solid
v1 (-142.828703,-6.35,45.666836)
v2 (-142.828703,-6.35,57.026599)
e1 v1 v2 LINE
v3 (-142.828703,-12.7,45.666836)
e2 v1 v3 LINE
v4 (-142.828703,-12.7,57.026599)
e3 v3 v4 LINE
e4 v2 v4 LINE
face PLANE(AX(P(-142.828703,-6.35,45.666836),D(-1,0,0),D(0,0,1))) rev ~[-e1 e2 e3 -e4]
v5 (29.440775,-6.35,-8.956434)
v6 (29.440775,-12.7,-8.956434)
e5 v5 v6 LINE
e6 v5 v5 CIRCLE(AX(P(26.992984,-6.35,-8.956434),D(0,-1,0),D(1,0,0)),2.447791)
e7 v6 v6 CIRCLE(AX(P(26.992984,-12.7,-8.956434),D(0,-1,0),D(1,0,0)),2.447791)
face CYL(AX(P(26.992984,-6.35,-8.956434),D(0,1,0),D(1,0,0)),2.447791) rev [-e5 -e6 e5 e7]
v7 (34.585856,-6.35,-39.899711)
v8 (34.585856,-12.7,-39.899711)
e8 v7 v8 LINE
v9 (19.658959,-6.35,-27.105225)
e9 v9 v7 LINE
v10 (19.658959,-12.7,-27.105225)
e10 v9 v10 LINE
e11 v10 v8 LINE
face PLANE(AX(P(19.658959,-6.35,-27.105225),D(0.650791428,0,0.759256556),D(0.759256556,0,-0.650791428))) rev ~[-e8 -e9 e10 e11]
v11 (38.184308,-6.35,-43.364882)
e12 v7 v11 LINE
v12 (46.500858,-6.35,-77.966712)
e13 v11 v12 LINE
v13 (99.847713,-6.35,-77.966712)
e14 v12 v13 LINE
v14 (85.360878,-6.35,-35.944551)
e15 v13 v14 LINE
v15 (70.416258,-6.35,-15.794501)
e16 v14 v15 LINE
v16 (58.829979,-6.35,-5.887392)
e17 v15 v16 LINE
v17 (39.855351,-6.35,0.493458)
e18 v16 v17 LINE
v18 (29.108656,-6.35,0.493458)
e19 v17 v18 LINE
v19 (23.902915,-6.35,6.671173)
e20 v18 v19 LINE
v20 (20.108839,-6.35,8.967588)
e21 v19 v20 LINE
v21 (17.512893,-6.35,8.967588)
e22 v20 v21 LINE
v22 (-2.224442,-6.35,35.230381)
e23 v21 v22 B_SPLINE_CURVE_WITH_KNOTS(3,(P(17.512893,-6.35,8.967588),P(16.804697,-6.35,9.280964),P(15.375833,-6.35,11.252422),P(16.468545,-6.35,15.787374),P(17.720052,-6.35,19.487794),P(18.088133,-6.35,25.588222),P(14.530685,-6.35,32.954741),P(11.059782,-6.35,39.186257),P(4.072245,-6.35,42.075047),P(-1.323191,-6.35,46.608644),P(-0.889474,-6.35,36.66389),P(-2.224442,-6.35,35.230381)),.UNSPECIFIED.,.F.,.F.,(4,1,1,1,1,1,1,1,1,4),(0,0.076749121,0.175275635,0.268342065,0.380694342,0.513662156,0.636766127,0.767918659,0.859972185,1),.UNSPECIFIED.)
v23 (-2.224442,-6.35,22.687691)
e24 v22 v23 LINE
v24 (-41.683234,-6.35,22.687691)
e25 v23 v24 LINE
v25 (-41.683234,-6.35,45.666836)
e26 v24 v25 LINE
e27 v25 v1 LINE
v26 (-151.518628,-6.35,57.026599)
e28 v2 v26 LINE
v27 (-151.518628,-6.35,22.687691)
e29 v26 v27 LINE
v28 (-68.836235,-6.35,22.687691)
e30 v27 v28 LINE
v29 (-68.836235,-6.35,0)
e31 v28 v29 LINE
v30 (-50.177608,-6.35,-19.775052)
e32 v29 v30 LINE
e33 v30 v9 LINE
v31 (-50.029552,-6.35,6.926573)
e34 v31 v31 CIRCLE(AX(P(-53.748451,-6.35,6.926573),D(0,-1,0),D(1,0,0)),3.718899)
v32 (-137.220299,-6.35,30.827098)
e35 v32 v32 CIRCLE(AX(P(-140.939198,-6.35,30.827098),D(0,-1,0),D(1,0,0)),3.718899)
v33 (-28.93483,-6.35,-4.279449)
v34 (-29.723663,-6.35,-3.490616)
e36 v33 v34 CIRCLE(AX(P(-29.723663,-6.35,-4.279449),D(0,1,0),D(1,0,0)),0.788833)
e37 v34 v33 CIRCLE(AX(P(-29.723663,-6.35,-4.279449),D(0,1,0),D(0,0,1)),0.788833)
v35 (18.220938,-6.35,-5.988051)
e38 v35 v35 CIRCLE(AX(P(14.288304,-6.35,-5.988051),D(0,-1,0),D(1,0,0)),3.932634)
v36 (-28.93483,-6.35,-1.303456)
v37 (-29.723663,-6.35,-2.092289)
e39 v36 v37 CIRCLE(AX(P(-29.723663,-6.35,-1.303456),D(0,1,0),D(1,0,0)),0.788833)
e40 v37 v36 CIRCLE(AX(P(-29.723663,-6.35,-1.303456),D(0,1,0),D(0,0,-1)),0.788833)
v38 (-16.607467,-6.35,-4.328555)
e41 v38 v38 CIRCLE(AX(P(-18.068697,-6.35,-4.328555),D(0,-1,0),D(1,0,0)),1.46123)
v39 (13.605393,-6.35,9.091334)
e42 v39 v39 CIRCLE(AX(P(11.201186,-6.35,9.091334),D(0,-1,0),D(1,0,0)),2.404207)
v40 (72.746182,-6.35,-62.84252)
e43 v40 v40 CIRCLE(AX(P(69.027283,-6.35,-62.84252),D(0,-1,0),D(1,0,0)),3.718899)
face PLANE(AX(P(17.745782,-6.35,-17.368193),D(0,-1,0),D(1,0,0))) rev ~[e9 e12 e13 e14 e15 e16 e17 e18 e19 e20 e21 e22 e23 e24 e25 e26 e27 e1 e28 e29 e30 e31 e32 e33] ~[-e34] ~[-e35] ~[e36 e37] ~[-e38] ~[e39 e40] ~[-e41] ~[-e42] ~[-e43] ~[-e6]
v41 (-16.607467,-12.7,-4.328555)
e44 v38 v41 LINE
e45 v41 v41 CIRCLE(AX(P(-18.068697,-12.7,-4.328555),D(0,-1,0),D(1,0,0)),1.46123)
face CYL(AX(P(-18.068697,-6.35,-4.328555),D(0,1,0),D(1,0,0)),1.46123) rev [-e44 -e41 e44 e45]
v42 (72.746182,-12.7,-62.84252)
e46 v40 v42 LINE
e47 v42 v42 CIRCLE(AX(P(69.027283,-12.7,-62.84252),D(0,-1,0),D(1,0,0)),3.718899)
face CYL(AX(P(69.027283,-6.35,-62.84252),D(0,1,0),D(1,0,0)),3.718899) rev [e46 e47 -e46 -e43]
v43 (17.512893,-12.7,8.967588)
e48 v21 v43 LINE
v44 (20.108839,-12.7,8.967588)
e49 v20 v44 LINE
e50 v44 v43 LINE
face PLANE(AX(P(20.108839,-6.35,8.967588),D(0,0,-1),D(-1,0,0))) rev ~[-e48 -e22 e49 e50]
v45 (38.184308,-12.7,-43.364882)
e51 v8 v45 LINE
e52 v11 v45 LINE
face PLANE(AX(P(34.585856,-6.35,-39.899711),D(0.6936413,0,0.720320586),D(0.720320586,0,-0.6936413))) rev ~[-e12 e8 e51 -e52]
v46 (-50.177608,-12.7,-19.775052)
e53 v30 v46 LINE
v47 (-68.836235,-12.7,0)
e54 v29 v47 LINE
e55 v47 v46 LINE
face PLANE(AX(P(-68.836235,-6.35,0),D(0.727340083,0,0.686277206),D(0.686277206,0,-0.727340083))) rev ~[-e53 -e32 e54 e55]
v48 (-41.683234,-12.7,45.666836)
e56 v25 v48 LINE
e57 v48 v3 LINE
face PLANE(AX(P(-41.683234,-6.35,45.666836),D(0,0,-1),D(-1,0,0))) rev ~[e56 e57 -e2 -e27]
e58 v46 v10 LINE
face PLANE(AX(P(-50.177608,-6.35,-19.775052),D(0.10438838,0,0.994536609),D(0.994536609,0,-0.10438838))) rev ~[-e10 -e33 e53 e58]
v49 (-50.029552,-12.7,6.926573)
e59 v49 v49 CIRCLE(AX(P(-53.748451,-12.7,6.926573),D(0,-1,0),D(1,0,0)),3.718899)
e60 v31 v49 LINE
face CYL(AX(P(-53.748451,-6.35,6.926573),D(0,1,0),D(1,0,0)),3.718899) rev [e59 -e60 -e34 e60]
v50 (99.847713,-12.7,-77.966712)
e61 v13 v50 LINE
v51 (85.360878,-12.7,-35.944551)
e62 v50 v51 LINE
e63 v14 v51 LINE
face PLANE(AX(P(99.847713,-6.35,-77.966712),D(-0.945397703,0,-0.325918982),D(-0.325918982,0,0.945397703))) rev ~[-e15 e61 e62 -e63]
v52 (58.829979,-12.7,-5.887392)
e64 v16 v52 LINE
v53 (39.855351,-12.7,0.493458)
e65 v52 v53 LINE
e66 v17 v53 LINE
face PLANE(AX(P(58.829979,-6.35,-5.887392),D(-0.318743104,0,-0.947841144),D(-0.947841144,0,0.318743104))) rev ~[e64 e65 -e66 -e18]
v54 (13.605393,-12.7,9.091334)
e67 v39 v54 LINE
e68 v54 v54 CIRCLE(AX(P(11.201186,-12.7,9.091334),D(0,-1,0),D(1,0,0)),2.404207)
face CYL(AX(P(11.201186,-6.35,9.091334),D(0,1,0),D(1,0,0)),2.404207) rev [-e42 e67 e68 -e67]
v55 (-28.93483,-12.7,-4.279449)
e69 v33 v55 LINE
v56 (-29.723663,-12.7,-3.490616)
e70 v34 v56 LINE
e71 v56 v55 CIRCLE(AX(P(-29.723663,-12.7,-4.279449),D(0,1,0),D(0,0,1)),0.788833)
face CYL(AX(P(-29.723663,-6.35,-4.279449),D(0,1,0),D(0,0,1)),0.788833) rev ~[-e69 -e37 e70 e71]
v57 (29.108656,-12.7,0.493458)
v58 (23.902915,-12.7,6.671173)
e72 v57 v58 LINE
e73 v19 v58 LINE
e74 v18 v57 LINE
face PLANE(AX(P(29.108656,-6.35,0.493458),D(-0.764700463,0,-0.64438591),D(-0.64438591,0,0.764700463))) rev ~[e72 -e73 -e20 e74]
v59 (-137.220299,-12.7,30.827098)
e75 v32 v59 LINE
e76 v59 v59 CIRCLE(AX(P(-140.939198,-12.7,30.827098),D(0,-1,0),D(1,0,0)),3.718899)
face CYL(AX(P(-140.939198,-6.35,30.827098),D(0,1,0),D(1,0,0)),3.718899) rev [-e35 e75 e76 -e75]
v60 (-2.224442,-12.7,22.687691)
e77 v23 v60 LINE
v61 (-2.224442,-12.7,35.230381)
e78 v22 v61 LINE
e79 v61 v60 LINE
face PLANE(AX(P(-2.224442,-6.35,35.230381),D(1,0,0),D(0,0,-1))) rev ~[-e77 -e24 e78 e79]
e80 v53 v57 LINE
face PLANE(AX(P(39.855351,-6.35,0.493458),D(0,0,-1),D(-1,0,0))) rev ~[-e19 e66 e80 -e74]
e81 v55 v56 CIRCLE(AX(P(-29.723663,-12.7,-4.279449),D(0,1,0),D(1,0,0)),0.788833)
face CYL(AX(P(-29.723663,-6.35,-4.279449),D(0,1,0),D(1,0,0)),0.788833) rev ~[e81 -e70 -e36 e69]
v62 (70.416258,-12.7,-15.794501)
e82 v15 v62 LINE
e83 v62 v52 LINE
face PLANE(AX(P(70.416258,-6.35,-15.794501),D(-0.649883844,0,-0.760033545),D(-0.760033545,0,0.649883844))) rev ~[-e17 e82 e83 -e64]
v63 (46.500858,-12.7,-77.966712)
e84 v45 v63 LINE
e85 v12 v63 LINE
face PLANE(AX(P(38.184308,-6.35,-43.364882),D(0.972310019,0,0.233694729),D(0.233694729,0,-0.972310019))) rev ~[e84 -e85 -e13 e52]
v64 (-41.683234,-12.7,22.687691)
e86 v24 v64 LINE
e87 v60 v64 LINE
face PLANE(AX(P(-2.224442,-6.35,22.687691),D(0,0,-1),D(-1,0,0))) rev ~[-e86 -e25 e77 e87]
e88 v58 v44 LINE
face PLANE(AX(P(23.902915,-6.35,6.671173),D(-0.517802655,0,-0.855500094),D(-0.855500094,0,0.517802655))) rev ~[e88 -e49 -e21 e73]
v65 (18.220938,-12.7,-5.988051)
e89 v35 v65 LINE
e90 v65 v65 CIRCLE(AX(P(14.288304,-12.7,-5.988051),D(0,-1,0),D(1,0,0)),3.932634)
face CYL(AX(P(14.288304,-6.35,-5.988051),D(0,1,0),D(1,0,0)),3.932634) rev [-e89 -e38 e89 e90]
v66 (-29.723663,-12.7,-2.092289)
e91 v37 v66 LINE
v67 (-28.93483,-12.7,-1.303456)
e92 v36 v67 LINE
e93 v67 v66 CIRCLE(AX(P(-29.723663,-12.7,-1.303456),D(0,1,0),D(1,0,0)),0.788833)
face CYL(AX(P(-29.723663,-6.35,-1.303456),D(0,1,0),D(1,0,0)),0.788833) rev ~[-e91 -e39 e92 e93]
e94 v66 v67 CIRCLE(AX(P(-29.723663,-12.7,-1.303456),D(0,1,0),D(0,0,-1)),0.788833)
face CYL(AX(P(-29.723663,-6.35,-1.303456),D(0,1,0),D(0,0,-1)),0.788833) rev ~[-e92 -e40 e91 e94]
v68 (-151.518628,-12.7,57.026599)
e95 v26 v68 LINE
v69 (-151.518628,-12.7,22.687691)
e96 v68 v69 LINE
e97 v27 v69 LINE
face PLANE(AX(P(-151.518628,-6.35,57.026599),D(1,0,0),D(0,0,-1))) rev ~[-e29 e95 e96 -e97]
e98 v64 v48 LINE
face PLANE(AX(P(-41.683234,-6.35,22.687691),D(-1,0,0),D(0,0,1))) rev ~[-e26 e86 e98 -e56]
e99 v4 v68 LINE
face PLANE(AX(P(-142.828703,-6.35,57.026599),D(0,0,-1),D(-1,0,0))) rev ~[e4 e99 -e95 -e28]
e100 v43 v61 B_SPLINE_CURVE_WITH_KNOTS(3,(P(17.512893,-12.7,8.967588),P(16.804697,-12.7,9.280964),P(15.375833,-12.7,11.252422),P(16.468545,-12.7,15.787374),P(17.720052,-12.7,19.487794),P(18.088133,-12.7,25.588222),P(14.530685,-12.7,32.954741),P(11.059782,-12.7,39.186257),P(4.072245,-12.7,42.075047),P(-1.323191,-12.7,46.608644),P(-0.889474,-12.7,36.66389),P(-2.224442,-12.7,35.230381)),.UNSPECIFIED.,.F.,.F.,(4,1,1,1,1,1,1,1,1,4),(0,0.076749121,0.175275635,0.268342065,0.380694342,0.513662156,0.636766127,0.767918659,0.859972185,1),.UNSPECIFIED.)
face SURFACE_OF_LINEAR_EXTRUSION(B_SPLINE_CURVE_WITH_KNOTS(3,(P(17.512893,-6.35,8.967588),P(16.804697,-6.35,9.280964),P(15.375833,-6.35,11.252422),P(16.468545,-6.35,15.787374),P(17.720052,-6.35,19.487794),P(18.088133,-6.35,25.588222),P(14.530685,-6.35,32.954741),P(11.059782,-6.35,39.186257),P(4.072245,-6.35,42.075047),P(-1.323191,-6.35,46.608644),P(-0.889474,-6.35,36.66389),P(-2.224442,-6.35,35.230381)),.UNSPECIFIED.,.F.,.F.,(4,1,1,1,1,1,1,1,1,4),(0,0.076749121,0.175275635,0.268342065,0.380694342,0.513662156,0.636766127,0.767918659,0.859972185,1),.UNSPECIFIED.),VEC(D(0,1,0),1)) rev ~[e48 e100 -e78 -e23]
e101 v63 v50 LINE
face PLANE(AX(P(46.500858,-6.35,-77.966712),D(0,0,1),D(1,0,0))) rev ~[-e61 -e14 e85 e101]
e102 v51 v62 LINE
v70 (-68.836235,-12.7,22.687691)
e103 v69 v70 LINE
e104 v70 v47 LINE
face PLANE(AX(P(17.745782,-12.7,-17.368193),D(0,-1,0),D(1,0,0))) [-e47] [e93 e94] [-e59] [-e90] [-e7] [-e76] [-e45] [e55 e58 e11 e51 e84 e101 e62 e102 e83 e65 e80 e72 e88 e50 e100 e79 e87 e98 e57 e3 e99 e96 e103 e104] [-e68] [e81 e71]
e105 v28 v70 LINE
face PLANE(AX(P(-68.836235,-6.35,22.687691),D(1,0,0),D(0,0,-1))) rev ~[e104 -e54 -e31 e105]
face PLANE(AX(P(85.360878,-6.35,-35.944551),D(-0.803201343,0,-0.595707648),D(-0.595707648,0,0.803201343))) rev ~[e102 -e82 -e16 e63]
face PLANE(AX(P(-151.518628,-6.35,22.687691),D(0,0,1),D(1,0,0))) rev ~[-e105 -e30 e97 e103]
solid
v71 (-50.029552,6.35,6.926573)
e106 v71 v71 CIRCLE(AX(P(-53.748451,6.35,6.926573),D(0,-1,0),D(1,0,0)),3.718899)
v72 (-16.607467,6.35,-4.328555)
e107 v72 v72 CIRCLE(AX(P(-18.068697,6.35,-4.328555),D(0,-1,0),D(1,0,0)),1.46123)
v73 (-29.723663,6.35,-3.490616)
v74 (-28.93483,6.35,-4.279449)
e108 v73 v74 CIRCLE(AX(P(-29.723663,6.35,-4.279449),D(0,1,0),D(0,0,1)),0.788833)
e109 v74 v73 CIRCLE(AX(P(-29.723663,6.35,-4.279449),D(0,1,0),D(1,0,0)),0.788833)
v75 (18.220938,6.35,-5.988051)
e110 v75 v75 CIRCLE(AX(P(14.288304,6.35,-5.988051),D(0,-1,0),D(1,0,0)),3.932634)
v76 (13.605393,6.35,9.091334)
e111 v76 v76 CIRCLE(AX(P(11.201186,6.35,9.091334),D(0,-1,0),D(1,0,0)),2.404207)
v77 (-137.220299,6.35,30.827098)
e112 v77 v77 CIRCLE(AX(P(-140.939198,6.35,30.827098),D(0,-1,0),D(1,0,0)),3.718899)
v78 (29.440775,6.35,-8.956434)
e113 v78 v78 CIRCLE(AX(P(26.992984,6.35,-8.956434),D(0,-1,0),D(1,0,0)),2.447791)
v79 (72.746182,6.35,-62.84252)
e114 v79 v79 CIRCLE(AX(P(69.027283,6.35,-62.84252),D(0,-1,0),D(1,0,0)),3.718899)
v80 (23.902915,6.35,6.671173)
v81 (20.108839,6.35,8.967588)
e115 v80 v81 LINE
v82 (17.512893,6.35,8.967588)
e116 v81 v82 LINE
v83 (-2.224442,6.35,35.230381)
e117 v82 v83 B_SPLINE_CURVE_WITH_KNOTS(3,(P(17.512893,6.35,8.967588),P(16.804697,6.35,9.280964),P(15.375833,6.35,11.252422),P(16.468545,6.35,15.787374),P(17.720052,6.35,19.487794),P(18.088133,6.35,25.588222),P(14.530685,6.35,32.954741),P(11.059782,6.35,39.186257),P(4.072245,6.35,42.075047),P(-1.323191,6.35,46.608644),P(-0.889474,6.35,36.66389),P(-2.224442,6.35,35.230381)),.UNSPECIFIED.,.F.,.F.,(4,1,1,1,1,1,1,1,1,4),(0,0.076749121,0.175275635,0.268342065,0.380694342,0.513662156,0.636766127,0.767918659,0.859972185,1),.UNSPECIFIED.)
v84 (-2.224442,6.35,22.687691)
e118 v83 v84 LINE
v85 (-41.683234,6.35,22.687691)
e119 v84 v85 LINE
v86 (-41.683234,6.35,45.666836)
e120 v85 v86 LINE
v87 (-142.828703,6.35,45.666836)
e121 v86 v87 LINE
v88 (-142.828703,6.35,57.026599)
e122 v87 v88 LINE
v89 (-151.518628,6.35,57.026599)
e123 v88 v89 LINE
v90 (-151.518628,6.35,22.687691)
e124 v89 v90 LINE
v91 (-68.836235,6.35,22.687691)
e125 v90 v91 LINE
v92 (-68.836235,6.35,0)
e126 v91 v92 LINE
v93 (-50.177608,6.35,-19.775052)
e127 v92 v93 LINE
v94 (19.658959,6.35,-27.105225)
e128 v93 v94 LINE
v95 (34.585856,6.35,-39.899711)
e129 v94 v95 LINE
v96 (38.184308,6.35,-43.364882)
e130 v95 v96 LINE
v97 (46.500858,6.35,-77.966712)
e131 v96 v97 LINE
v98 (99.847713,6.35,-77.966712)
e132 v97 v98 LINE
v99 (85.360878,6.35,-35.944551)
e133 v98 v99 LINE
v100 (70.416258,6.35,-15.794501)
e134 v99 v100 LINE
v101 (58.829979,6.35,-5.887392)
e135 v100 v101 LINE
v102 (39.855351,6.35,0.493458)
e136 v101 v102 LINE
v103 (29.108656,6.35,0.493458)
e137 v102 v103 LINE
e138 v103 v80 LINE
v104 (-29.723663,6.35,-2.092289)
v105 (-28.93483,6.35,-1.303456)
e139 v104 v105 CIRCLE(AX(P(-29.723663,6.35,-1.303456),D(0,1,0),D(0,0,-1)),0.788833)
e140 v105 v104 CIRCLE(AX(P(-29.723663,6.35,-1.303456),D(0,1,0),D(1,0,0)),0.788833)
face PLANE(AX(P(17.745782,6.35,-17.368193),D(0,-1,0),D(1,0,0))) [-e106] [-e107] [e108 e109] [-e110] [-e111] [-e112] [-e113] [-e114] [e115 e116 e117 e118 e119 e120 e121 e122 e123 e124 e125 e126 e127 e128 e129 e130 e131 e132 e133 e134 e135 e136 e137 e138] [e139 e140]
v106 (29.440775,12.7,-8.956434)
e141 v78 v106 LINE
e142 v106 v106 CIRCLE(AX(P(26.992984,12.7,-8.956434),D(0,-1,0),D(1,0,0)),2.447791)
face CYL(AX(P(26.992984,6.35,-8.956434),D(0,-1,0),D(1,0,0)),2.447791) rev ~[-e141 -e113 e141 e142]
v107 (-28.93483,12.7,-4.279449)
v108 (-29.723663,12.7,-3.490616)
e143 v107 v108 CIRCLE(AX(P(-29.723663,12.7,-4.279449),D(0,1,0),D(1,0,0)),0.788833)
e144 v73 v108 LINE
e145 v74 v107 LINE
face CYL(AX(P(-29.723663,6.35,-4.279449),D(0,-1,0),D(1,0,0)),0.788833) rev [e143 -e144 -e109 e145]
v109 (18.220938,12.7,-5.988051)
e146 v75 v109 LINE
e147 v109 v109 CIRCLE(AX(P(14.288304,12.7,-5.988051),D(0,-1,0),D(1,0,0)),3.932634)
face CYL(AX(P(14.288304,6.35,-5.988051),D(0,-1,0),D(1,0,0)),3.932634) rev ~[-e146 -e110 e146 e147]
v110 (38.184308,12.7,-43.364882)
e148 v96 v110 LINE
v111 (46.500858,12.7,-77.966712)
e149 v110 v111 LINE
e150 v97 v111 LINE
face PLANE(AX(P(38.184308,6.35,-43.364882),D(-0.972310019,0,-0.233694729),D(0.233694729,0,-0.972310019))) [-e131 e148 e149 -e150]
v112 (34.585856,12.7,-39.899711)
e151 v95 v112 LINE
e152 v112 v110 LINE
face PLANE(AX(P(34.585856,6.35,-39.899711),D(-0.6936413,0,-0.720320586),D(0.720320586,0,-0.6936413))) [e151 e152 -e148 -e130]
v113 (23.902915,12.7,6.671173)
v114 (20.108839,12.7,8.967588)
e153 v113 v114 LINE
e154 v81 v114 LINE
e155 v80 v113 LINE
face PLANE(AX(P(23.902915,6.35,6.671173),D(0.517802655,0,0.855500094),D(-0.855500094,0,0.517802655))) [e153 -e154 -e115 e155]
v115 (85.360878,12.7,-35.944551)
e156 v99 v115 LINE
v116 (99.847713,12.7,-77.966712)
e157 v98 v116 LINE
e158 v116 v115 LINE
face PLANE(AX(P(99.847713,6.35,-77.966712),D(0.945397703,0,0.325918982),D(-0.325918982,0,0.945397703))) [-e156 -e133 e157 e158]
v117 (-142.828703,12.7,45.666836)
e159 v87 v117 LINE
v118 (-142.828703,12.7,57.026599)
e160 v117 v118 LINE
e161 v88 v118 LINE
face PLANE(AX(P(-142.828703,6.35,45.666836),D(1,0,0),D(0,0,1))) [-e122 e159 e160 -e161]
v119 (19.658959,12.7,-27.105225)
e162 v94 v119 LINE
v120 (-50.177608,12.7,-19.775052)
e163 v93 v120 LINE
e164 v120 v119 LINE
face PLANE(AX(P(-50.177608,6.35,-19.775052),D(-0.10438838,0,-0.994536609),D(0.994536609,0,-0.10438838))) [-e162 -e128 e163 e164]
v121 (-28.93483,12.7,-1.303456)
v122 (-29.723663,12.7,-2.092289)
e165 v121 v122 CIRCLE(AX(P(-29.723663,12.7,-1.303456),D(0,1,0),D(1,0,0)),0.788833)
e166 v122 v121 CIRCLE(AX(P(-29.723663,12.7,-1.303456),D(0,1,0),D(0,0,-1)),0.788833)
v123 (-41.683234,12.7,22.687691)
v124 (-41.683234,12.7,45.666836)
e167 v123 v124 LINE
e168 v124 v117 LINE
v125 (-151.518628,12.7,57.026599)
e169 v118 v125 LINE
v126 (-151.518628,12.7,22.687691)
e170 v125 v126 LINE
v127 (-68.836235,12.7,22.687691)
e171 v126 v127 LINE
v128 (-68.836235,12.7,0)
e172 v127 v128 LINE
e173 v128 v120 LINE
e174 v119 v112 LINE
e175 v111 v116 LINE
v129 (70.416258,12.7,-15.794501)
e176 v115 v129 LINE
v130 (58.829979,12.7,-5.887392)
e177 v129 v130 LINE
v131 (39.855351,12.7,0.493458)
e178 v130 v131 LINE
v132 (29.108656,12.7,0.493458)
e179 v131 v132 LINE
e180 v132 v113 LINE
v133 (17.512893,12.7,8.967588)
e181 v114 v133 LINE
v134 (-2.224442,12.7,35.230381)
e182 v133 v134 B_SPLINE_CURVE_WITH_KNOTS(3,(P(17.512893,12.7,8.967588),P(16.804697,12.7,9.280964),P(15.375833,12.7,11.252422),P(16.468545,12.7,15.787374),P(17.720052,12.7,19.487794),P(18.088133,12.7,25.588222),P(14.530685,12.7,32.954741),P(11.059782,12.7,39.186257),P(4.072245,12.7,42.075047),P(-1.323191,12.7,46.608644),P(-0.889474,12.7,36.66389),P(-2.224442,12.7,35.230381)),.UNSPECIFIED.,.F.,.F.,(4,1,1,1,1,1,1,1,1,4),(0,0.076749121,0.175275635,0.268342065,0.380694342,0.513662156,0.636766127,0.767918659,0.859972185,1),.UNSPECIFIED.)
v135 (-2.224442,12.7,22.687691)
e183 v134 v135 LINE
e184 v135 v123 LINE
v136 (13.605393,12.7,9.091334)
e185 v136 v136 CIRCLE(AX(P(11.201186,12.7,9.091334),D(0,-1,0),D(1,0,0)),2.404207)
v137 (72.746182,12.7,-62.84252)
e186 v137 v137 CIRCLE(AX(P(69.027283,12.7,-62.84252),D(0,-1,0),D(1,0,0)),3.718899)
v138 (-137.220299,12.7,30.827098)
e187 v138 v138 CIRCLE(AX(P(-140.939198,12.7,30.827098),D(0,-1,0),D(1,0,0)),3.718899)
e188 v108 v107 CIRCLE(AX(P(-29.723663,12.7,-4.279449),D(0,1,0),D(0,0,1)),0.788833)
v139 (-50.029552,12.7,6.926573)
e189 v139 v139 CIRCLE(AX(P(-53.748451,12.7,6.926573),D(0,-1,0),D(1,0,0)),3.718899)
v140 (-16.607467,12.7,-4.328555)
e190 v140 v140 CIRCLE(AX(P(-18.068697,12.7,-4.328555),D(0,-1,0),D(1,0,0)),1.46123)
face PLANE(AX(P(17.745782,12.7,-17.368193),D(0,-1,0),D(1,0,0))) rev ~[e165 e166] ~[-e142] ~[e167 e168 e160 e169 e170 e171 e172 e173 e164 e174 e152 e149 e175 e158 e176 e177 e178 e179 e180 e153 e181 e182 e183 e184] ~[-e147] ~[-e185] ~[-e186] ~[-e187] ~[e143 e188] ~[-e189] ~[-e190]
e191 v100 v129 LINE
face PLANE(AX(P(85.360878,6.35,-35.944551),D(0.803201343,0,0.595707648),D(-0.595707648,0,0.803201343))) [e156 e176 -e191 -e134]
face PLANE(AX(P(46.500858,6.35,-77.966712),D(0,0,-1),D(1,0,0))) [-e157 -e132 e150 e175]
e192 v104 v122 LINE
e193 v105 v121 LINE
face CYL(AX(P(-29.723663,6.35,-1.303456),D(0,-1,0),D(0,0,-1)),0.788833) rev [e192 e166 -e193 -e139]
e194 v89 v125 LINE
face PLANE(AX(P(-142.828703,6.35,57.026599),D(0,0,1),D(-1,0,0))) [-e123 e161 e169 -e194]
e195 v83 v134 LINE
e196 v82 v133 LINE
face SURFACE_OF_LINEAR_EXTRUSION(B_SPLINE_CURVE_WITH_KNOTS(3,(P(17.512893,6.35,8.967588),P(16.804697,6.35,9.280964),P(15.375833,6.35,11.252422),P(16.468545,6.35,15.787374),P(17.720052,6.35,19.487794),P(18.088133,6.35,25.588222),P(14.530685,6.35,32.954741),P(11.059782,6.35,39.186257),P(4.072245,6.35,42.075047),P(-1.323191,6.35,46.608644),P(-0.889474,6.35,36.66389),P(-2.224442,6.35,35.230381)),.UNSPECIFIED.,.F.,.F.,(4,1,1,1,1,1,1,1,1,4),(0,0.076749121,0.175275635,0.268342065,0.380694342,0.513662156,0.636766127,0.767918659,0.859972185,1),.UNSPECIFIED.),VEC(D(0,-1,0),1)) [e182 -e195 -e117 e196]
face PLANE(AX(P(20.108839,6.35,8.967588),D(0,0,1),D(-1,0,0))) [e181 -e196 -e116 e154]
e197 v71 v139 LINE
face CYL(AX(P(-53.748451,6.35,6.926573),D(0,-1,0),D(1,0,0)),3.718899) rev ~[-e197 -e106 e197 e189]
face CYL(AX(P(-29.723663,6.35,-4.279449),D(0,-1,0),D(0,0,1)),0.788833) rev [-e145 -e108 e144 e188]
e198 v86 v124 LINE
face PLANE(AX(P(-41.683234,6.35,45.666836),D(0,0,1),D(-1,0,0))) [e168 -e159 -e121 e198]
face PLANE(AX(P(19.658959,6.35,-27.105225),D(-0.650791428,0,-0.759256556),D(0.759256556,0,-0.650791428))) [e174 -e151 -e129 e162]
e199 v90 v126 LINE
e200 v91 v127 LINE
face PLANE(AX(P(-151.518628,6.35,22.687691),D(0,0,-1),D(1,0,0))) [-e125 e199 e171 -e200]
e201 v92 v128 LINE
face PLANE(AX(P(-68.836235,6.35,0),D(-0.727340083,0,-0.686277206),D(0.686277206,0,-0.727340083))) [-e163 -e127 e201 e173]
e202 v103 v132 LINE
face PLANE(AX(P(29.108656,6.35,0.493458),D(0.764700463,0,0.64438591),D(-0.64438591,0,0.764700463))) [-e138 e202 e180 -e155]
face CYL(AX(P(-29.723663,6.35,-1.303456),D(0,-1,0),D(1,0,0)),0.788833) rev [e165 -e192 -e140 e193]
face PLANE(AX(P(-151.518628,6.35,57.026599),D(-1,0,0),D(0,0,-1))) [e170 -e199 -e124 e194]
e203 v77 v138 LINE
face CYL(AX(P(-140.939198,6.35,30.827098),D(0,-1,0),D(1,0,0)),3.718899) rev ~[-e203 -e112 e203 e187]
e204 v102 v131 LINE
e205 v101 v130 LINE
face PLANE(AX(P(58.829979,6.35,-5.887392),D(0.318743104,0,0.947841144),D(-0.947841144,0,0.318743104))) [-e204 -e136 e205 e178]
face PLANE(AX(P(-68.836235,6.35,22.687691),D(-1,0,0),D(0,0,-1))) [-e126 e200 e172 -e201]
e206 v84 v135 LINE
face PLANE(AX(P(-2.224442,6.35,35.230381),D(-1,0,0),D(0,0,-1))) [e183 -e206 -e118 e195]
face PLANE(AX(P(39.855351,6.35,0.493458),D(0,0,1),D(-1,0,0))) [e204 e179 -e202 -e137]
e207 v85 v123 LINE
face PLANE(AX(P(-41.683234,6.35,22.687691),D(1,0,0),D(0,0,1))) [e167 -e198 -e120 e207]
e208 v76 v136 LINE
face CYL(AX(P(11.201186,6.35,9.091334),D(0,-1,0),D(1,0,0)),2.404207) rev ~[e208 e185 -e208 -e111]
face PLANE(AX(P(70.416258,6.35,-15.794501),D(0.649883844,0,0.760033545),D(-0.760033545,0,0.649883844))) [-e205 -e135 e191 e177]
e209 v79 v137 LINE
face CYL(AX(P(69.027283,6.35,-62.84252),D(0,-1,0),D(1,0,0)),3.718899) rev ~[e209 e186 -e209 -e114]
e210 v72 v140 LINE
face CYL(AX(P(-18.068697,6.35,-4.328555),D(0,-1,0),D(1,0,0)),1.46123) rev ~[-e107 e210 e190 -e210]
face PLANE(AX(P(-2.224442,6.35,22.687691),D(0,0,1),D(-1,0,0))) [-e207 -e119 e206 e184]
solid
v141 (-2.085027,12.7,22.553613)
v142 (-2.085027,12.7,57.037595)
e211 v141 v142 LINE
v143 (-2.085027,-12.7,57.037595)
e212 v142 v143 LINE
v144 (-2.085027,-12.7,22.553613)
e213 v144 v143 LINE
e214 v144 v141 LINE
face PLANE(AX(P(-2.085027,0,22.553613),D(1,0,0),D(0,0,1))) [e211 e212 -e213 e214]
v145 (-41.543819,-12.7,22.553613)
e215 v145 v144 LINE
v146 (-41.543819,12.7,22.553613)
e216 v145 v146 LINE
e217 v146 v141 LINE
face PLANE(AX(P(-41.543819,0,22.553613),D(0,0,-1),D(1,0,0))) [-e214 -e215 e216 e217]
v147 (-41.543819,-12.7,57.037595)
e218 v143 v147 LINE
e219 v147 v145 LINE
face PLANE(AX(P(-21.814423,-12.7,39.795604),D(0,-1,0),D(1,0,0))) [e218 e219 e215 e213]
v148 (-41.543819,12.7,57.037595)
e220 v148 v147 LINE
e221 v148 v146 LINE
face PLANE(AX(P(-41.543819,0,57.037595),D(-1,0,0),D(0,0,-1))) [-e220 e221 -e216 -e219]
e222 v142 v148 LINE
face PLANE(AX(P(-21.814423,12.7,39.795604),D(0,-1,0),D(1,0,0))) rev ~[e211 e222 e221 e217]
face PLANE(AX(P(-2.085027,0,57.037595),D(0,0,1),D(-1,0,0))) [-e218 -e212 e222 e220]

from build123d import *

# Parameters (mm, degrees)
F2_DEPTH = 12.7
F3_START = 6.35
F0_R     = 3.7188990141
F0_R_2   = 1.4612303456
F0_R_3   = 3.9326336978
F0_R_4   = 2.4477910309
F0_R_5   = 2.4042066943
F3_DEPTH = 6.35
F4_START = -6.35
F4_DEPTH = 6.35


with BuildPart() as f2:
    # F1 (on Front) → F2 (new body, symmetric)
    with BuildSketch(Plane.XZ):
        Polygon((-2.0850271491, 22.5536132524), (-2.0850271491, 35.0963034029), (-2.0850271491, 57.0375945712), (-41.5438192781, 57.0375945712), (-41.5438192781, 22.5536132524), align=None)
    extrude(amount=F2_DEPTH, both=True)


with BuildPart() as f3:
    # F0 (on Front) → F3 (new body)
    with BuildSketch(Plane.XZ.offset(F3_START)):
        with BuildLine():
            add(Edge.make_bspline(
                [(17.5128925602, 8.9675877243), (16.8046966728, 9.2809638886), (15.3758332865, 11.2524222528), (16.4685449536, 15.7873735596), (17.7200520781, 19.4877936893), (18.0881333414, 25.5882222192), (14.5306849927, 32.9547414404), (11.0597819141, 39.1862574006), (4.0722449417, 42.0750473774), (-1.3231913375, 46.6086443125), (-0.889474155, 36.663889741), (-2.2244421454, 35.2303814143)],
                knots=[0, 0, 0, 0, 0.0767491207, 0.1752756348, 0.2683420654, 0.3806943419, 0.5136621557, 0.6367661273, 0.7679186588, 0.8599721851, 1, 1, 1, 1], degree=3))
            Line((-2.2244421454, 35.2303814143), (-2.2244421454, 22.6876912639))
            Line((-2.2244421454, 22.6876912639), (-41.6832342744, 22.6876912639))
            Line((-41.6832342744, 22.6876912639), (-68.8362345099, 22.6876912639))
            Line((-68.8362345099, 22.6876912639), (-68.8362345099, 0))
            Line((-68.8362345099, 0), (-50.1776076853, -19.7750516236))
            Line((-50.1776076853, -19.7750516236), (19.6589585394, -27.1052252501))
            Line((19.6589585394, -27.1052252501), (34.5858559012, -39.8997105658))
            Line((34.5858559012, -39.8997105658), (38.1843075156, -43.3648824692))
            Line((38.1843075156, -43.3648824692), (46.5008579195, -77.9667124152))
            Line((46.5008579195, -77.9667124152), (99.8477127413, -77.9667124152))
            Line((99.8477127413, -77.9667124152), (85.3608783345, -35.9445512295))
            Line((85.3608783345, -35.9445512295), (70.416257904, -15.7945007086))
            Line((70.416257904, -15.7945007086), (58.829979227, -5.8873915114))
            Line((58.829979227, -5.8873915114), (39.8553509276, 0.4934582394))
            Line((39.8553509276, 0.4934582394), (29.1086558263, 0.4934582394))
            Line((29.1086558263, 0.4934582394), (23.9029146741, 6.671173498))
            Line((23.9029146741, 6.671173498), (20.1088387529, 8.9675877243))
            Line((20.1088387529, 8.9675877243), (17.5128925602, 8.9675877243))
        make_face()
        with Locations((69.0272832289, -62.8425204195)):
            Circle(F0_R, mode=Mode.SUBTRACT)
        with BuildLine():
            ThreePointArc((-29.723662883, -3.4906163091), (-29.1658735951, -3.7216601971), (-28.9348297071, -4.279449485))
            ThreePointArc((-28.9348297071, -4.279449485), (-30.281452171, -4.837238773), (-29.723662883, -3.4906163091))
        make_face(mode=Mode.SUBTRACT)
        with BuildLine():
            ThreePointArc((-28.9348297071, -1.3034559088), (-29.1658735951, -1.8612451967), (-29.723662883, -2.0922890847))
            ThreePointArc((-29.723662883, -2.0922890847), (-30.281452171, -0.7456666208), (-28.9348297071, -1.3034559088))
        make_face(mode=Mode.SUBTRACT)
        with Locations((-53.7484511733, 6.9265733473)):
            Circle(F0_R, mode=Mode.SUBTRACT)
        with Locations((-18.0686973035, -4.3285554275)):
            Circle(F0_R_2, mode=Mode.SUBTRACT)
        with Locations((14.2883043736, -5.9880511835)):
            Circle(F0_R_3, mode=Mode.SUBTRACT)
        with Locations((26.9929841161, -8.9564342052)):
            Circle(F0_R_4, mode=Mode.SUBTRACT)
        with Locations((11.2011861056, 9.0913344175)):
            Circle(F0_R_5, mode=Mode.SUBTRACT)
        Polygon((-68.8362345099, 22.6876912639), (-41.6832342744, 22.6876912639), (-41.6832342744, 45.6668362021), (-142.8287029266, 45.6668362021), (-142.8287029266, 57.0265986025), (-151.5186280012, 57.0265986025), (-151.5186280012, 22.6876912639), align=None)
        with Locations((-140.9391984344, 30.8270975947)):
            Circle(F0_R, mode=Mode.SUBTRACT)
    extrude(amount=F3_DEPTH)


with BuildPart() as f4:
    # F0 (on Front) → F4 (new body)
    with BuildSketch(Plane.XZ.offset(F4_START)):
        with BuildLine():
            add(Edge.make_bspline(
                [(17.5128925602, 8.9675877243), (16.8046966728, 9.2809638886), (15.3758332865, 11.2524222528), (16.4685449536, 15.7873735596), (17.7200520781, 19.4877936893), (18.0881333414, 25.5882222192), (14.5306849927, 32.9547414404), (11.0597819141, 39.1862574006), (4.0722449417, 42.0750473774), (-1.3231913375, 46.6086443125), (-0.889474155, 36.663889741), (-2.2244421454, 35.2303814143)],
                knots=[0, 0, 0, 0, 0.0767491207, 0.1752756348, 0.2683420654, 0.3806943419, 0.5136621557, 0.6367661273, 0.7679186588, 0.8599721851, 1, 1, 1, 1], degree=3))
            Line((-2.2244421454, 35.2303814143), (-2.2244421454, 22.6876912639))
            Line((-2.2244421454, 22.6876912639), (-41.6832342744, 22.6876912639))
            Line((-41.6832342744, 22.6876912639), (-68.8362345099, 22.6876912639))
            Line((-68.8362345099, 22.6876912639), (-68.8362345099, 0))
            Line((-68.8362345099, 0), (-50.1776076853, -19.7750516236))
            Line((-50.1776076853, -19.7750516236), (19.6589585394, -27.1052252501))
            Line((19.6589585394, -27.1052252501), (34.5858559012, -39.8997105658))
            Line((34.5858559012, -39.8997105658), (38.1843075156, -43.3648824692))
            Line((38.1843075156, -43.3648824692), (46.5008579195, -77.9667124152))
            Line((46.5008579195, -77.9667124152), (99.8477127413, -77.9667124152))
            Line((99.8477127413, -77.9667124152), (85.3608783345, -35.9445512295))
            Line((85.3608783345, -35.9445512295), (70.416257904, -15.7945007086))
            Line((70.416257904, -15.7945007086), (58.829979227, -5.8873915114))
            Line((58.829979227, -5.8873915114), (39.8553509276, 0.4934582394))
            Line((39.8553509276, 0.4934582394), (29.1086558263, 0.4934582394))
            Line((29.1086558263, 0.4934582394), (23.9029146741, 6.671173498))
            Line((23.9029146741, 6.671173498), (20.1088387529, 8.9675877243))
            Line((20.1088387529, 8.9675877243), (17.5128925602, 8.9675877243))
        make_face()
        with Locations((69.0272832289, -62.8425204195)):
            Circle(F0_R, mode=Mode.SUBTRACT)
        with BuildLine():
            ThreePointArc((-29.723662883, -3.4906163091), (-29.1658735951, -3.7216601971), (-28.9348297071, -4.279449485))
            ThreePointArc((-28.9348297071, -4.279449485), (-30.281452171, -4.837238773), (-29.723662883, -3.4906163091))
        make_face(mode=Mode.SUBTRACT)
        with BuildLine():
            ThreePointArc((-28.9348297071, -1.3034559088), (-29.1658735951, -1.8612451967), (-29.723662883, -2.0922890847))
            ThreePointArc((-29.723662883, -2.0922890847), (-30.281452171, -0.7456666208), (-28.9348297071, -1.3034559088))
        make_face(mode=Mode.SUBTRACT)
        with Locations((-53.7484511733, 6.9265733473)):
            Circle(F0_R, mode=Mode.SUBTRACT)
        with Locations((-18.0686973035, -4.3285554275)):
            Circle(F0_R_2, mode=Mode.SUBTRACT)
        with Locations((14.2883043736, -5.9880511835)):
            Circle(F0_R_3, mode=Mode.SUBTRACT)
        with Locations((26.9929841161, -8.9564342052)):
            Circle(F0_R_4, mode=Mode.SUBTRACT)
        with Locations((11.2011861056, 9.0913344175)):
            Circle(F0_R_5, mode=Mode.SUBTRACT)
        Polygon((-68.8362345099, 22.6876912639), (-41.6832342744, 22.6876912639), (-41.6832342744, 45.6668362021), (-142.8287029266, 45.6668362021), (-142.8287029266, 57.0265986025), (-151.5186280012, 57.0265986025), (-151.5186280012, 22.6876912639), align=None)
        with Locations((-140.9391984344, 30.8270975947)):
            Circle(F0_R, mode=Mode.SUBTRACT)
    extrude(amount=-F4_DEPTH)


solid = Compound([f2.part, f3.part, f4.part])
